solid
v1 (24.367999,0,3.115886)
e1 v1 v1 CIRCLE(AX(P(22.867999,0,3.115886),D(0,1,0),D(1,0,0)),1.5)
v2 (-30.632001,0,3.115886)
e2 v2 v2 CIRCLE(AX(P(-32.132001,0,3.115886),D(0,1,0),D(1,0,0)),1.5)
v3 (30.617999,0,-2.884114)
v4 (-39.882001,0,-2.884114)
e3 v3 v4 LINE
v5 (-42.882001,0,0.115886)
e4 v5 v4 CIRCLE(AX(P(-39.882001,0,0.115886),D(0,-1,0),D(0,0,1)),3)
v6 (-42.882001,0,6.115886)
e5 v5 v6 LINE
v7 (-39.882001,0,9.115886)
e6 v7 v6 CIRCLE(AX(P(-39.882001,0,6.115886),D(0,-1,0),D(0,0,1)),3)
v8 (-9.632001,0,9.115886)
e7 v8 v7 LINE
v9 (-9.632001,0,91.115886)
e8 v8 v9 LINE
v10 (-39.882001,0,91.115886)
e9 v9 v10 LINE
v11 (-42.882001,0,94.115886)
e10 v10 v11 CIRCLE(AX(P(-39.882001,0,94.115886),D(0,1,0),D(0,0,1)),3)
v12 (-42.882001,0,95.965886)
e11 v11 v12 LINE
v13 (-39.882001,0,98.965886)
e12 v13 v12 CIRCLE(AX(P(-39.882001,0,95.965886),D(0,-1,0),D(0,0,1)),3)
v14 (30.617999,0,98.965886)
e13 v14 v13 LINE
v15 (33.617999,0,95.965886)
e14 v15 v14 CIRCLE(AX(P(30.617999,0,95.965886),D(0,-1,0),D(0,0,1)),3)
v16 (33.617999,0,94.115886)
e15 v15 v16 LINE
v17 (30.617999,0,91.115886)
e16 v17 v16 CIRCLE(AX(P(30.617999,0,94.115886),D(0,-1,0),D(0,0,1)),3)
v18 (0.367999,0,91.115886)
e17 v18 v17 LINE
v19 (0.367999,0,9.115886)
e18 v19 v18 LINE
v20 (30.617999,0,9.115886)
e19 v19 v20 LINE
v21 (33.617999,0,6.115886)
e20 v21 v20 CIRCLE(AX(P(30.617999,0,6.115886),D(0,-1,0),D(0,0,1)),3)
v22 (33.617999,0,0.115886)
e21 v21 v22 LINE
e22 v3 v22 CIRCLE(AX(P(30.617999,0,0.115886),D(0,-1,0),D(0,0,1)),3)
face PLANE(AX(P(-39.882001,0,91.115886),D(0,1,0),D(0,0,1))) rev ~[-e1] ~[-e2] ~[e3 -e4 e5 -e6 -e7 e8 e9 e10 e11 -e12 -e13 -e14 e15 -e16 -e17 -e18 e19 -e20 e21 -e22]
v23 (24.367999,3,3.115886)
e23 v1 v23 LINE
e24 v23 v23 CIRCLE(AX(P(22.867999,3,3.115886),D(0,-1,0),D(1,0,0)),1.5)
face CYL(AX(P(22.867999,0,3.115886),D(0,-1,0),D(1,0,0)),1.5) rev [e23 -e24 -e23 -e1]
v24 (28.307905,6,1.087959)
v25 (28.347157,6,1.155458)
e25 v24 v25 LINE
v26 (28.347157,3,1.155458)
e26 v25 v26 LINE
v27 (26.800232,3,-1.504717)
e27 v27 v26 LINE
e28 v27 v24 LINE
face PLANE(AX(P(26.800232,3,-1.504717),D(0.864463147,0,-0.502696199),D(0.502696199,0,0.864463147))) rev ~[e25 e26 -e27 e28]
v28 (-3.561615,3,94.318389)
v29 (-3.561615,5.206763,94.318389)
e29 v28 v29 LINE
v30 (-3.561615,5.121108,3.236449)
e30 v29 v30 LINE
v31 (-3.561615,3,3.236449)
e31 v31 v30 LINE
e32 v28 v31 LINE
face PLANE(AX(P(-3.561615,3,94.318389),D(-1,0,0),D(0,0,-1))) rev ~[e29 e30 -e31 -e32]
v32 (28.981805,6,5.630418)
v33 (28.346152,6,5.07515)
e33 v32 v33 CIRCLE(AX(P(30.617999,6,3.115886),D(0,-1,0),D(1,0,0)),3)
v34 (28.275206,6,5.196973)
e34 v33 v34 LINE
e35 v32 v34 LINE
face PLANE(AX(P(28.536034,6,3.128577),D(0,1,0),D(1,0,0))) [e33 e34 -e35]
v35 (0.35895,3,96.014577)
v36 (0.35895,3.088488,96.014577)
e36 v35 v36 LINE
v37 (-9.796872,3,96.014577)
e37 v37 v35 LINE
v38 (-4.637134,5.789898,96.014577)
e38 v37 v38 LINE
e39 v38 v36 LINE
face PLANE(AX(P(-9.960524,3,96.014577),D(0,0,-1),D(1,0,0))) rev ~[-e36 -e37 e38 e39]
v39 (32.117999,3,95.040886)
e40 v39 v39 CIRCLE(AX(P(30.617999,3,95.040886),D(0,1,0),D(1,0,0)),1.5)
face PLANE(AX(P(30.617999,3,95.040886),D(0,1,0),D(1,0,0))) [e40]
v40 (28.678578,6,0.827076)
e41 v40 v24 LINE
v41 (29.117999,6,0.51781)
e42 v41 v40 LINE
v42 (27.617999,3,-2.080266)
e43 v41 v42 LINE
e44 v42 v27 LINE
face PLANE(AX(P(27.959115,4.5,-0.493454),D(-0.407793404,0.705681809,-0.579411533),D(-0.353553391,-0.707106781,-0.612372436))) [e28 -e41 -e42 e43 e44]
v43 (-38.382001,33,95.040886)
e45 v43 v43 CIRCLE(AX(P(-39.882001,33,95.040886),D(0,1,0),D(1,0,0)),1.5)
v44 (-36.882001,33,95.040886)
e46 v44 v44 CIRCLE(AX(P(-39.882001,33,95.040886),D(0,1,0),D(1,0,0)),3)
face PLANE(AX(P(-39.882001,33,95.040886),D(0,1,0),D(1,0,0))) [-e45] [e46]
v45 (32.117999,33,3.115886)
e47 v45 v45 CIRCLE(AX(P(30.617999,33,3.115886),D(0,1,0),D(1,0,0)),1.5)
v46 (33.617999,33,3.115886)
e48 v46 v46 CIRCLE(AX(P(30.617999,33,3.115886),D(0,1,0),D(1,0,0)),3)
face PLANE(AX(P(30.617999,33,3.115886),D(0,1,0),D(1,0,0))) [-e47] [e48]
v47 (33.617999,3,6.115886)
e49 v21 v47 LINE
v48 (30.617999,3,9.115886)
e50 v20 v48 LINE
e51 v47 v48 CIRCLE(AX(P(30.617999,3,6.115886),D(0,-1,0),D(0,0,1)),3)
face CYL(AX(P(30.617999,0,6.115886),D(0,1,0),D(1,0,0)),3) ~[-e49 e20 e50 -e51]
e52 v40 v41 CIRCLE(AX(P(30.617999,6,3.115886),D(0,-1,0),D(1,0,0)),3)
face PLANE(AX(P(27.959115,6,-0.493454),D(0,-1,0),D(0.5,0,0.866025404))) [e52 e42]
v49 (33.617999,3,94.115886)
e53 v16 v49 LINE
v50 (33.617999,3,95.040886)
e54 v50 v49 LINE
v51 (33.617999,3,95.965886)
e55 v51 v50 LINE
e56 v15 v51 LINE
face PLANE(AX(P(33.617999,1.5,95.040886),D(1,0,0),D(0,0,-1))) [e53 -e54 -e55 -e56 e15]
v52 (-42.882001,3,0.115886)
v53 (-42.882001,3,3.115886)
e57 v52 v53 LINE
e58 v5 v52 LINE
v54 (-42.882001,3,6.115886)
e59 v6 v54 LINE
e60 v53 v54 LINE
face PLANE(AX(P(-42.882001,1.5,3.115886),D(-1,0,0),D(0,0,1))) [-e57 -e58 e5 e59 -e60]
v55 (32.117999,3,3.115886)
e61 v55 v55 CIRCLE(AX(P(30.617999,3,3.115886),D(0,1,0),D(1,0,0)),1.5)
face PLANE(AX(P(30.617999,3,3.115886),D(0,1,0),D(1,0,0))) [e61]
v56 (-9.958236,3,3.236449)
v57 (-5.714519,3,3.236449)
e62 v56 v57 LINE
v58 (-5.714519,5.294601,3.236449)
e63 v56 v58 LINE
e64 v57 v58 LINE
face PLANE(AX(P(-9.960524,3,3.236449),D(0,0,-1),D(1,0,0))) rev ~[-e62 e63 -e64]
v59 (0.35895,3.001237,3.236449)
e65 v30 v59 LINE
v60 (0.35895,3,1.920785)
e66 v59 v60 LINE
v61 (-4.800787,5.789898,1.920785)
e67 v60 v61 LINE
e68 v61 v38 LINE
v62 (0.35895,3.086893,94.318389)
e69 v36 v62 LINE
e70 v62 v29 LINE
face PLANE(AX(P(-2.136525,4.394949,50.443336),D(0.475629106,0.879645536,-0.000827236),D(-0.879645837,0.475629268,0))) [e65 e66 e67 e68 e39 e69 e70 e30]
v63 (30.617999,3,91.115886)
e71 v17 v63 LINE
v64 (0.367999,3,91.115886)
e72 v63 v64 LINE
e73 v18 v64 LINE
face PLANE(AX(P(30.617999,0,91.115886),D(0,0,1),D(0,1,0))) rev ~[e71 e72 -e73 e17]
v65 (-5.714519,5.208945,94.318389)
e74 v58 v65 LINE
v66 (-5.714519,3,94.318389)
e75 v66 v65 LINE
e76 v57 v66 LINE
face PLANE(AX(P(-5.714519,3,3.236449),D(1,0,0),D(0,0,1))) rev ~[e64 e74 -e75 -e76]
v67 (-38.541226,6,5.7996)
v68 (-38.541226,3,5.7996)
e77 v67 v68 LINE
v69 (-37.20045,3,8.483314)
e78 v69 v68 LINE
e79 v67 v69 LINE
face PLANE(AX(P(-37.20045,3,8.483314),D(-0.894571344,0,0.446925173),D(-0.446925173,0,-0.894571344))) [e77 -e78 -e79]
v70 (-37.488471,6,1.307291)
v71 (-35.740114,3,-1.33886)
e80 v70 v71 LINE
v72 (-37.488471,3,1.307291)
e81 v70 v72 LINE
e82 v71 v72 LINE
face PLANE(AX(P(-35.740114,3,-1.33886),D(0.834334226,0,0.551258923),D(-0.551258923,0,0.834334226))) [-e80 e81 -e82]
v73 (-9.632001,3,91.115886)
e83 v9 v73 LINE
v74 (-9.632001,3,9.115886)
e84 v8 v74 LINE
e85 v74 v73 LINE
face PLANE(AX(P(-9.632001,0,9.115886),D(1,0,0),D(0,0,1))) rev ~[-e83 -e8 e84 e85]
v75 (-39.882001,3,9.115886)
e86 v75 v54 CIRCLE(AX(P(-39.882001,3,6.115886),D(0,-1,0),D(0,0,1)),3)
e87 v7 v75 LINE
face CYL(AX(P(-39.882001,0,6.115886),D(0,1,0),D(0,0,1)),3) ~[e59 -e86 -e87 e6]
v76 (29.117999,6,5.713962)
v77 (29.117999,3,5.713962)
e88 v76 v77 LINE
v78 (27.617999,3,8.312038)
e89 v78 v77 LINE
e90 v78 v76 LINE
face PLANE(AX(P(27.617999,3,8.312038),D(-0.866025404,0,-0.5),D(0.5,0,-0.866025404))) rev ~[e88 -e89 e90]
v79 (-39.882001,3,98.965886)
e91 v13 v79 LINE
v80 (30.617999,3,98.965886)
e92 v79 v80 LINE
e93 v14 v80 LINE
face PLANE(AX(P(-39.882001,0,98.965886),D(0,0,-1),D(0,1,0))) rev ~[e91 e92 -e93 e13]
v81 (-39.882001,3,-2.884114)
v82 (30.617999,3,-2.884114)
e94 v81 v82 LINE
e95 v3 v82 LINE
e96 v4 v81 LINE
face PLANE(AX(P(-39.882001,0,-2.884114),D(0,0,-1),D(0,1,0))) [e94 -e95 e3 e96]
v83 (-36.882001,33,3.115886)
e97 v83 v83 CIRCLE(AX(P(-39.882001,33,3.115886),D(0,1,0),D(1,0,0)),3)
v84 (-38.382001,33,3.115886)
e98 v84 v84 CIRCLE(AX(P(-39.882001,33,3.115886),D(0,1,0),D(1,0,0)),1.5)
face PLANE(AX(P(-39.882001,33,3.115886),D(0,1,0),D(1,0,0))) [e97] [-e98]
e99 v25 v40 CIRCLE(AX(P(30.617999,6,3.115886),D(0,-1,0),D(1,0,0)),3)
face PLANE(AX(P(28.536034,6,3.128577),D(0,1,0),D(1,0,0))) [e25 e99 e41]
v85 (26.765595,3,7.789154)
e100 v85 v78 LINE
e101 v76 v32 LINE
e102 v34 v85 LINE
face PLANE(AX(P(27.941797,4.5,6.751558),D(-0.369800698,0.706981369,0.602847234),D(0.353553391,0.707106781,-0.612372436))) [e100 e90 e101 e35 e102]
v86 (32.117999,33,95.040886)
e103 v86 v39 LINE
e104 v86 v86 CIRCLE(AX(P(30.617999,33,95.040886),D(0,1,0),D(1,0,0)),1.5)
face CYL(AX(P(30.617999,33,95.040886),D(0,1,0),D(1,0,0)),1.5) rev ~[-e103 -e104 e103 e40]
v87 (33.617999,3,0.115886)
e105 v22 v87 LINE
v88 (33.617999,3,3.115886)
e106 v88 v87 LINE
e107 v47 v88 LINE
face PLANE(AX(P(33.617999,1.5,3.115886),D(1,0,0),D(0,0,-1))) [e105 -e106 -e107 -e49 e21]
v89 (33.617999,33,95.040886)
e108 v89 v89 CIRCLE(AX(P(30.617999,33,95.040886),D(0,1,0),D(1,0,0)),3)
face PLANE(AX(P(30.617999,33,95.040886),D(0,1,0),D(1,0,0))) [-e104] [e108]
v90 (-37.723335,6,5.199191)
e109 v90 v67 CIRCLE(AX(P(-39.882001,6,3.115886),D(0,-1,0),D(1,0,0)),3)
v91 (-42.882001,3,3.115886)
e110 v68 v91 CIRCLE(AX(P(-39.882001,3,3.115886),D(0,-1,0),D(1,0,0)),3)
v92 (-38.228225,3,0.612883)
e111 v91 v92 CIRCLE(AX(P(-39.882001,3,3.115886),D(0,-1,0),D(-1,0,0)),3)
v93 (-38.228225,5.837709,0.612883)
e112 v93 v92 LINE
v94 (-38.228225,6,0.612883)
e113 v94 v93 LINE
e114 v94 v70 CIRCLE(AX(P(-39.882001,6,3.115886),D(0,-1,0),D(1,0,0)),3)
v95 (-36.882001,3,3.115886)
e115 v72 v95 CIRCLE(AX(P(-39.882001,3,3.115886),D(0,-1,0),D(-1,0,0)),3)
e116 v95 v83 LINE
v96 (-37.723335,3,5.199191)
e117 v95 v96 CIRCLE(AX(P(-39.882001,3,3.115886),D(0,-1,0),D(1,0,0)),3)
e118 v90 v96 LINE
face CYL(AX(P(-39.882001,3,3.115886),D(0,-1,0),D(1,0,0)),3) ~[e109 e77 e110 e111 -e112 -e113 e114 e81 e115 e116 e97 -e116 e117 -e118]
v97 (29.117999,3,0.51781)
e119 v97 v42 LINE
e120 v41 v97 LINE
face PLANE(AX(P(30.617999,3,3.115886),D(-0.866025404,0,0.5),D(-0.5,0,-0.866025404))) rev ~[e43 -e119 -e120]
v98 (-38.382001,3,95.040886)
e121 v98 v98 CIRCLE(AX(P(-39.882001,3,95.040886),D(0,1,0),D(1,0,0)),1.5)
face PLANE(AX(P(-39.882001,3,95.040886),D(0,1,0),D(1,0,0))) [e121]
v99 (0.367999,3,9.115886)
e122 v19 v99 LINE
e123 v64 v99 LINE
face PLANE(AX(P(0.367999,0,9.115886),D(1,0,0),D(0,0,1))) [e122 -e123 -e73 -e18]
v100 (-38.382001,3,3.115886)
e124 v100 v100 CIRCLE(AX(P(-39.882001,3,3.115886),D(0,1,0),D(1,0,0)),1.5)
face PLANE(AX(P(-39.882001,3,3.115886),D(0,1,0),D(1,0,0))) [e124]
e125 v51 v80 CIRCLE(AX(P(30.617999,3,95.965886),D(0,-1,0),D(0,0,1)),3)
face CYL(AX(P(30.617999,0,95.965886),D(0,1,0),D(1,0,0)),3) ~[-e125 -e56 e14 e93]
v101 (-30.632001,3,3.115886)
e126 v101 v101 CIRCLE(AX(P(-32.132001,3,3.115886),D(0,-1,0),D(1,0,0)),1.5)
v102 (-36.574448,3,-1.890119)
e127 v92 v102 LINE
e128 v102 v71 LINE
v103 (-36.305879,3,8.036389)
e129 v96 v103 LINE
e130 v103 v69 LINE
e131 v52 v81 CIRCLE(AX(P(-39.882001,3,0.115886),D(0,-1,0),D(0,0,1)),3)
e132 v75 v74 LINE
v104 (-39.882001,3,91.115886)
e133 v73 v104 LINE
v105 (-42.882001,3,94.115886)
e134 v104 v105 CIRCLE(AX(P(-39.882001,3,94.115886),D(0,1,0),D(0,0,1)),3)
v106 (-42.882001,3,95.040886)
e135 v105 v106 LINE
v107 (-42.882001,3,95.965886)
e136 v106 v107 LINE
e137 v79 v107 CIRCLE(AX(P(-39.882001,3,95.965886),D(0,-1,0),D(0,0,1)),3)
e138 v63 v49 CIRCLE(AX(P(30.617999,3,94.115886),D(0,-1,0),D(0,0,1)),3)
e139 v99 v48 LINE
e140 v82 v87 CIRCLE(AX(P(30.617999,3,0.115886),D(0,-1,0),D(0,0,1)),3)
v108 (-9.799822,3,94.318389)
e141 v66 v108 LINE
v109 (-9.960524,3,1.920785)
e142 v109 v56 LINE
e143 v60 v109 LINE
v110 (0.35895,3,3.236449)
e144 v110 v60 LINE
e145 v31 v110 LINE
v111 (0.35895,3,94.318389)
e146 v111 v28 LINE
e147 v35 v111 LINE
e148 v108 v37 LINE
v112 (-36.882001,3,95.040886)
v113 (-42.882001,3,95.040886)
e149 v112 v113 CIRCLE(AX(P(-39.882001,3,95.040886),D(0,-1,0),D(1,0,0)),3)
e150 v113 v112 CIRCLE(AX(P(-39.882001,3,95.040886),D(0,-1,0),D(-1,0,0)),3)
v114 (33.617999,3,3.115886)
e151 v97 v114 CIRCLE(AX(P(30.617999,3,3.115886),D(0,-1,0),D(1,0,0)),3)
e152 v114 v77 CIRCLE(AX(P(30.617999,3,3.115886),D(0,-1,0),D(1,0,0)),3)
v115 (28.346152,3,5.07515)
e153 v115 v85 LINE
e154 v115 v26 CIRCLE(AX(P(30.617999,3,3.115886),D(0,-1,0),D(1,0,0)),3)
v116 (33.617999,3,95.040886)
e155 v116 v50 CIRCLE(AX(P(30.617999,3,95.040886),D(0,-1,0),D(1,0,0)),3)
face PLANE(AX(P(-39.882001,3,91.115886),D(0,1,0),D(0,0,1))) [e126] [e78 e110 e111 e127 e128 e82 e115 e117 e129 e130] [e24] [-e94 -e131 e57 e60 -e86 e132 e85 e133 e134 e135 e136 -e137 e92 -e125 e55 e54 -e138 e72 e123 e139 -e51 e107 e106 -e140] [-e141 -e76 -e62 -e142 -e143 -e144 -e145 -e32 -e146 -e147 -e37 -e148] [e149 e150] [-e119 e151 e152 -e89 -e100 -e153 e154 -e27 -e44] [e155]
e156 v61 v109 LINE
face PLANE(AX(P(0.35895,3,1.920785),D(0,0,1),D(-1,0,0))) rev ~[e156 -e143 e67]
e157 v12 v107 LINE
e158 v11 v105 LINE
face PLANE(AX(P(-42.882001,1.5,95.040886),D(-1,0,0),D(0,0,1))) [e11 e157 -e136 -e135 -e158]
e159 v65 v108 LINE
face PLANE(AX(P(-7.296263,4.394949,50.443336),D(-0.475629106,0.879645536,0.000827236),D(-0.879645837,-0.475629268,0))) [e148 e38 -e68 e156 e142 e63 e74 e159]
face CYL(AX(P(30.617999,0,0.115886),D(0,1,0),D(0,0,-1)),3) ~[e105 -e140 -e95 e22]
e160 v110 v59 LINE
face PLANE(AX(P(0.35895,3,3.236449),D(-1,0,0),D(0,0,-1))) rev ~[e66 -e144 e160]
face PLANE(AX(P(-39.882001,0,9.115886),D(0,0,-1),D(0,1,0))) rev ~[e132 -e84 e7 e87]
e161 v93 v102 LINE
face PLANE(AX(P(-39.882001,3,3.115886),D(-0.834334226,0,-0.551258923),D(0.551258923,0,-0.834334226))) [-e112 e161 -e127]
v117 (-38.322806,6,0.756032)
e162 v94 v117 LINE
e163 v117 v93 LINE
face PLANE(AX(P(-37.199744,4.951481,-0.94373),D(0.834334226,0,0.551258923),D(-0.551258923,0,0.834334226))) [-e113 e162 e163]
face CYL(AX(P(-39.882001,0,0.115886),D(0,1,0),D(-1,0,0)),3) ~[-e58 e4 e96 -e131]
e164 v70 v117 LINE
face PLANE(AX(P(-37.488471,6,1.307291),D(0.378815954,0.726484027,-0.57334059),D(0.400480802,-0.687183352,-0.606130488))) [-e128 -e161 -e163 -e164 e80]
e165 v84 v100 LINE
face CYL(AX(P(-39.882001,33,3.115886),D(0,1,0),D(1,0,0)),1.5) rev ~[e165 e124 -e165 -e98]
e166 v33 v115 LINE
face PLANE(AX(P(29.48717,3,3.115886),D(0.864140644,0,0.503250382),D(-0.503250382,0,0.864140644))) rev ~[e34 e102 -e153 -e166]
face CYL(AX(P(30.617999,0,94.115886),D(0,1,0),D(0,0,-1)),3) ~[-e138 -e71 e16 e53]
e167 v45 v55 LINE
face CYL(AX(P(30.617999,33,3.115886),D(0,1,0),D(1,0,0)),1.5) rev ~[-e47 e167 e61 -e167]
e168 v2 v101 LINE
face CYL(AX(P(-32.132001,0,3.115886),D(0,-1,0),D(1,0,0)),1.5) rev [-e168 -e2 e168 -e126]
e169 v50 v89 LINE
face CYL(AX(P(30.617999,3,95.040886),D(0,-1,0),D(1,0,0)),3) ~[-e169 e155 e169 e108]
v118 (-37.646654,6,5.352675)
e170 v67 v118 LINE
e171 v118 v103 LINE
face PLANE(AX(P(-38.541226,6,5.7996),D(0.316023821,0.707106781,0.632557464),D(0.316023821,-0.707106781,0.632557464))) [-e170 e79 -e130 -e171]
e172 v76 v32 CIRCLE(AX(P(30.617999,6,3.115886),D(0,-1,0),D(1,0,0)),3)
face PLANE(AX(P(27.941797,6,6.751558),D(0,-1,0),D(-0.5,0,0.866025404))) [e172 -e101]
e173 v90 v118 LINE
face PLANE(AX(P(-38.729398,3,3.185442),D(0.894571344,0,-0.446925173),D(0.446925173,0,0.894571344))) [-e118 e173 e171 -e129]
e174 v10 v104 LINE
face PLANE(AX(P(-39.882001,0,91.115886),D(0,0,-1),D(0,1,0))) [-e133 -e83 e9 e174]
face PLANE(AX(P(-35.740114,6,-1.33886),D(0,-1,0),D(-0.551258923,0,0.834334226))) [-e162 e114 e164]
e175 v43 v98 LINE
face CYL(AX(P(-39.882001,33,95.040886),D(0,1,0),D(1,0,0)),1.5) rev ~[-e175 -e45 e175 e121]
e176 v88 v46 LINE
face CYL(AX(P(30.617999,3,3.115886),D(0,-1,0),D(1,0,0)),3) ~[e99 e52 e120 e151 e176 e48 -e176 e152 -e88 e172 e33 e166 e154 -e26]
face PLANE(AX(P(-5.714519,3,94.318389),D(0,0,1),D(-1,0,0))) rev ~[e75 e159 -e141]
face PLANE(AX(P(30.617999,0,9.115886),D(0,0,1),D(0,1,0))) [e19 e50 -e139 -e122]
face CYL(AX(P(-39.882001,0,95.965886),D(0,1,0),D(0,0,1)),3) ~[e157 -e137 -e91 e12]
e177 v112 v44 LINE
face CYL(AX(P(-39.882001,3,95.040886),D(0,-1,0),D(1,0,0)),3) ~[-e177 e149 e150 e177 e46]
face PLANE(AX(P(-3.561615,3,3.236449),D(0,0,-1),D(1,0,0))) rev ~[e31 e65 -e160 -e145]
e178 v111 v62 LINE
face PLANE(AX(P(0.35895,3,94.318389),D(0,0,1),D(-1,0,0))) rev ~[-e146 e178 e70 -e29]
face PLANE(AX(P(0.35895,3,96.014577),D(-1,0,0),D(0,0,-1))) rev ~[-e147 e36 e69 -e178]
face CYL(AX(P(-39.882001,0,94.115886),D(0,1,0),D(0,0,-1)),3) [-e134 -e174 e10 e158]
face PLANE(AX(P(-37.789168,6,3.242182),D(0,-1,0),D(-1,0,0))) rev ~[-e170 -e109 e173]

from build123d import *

# Parameters (mm, degrees)
SKETCH_1_W          = 70.5
SKETCH_1_H          = 12
SKETCH_1_R          = 1.5
EXTRUDE_2_DEPTH     = 4
SKETCH_3_W          = 10
SKETCH_3_H          = 82
EXTRUDE_3_DEPTH     = 3
EXTRUDE_4_DEPTH     = 3
SKETCH_5_W          = 70.5
SKETCH_5_H          = 12.216564443
CUT_EXTRUDE_1_DEPTH = 1
SKETCH_6_R          = 3
EXTRUDE_5_DEPTH     = 30
SKETCH_7_W          = 12
SKETCH_7_H          = 3
EXTRUDE_6_DEPTH     = 3
SKETCH_8_W          = 12
SKETCH_8_H          = 3
EXTRUDE_7_DEPTH     = 3
SKETCH_10_W         = 7.85
SKETCH_10_H         = 3
EXTRUDE_8_DEPTH     = 3
SKETCH_11_W         = 7.85
SKETCH_11_H         = 3
EXTRUDE_9_DEPTH     = 3
FILLET_1_R          = 3
EXTRUDE_10_DEPTH    = 3
SKETCH_26_R         = 1.5
CUT_EXTRUDE_2_DEPTH = 30
SKETCH_28_R         = 1.5
CUT_EXTRUDE_3_DEPTH = 30
SKETCH_30_R         = 1.5
CUT_EXTRUDE_4_DEPTH = 30
SKETCH_29_R         = 1.5
CUT_EXTRUDE_5_DEPTH = 30


with BuildPart() as part:
    # 草图1 → 凸台-拉伸2 (new body)
    with BuildSketch(Plane(origin=(0, 0, 0), x_dir=(1, 0, 0), z_dir=(0, 1, 0))):
        with Locations((-4.632001312, -3.115886014)):
            Rectangle(SKETCH_1_W, SKETCH_1_H)
        with Locations((-32.132001312, -3.115886014)):
            Circle(SKETCH_1_R, mode=Mode.SUBTRACT)
        with Locations((22.867998688, -3.115886014)):
            Circle(SKETCH_1_R, mode=Mode.SUBTRACT)
    extrude(amount=EXTRUDE_2_DEPTH)

    # 草图3 → 凸台-拉伸3 (add)
    with BuildSketch(Plane.XZ):
        with Locations((-4.632001312, 50.115886014)):
            Rectangle(SKETCH_3_W, SKETCH_3_H)
    extrude(amount=-EXTRUDE_3_DEPTH)

    # 草图4 → 凸台-拉伸4 (add)
    with BuildSketch(Plane(origin=(0, 3, 0), x_dir=(1, 0, 0), z_dir=(0, 1, 0))):
        Polygon((-4.632001312, -91.115886014), (-39.882001312, -91.115886014), (-39.882001312, -98.965886014), (30.617998688, -98.965886014), (30.617998688, -91.115886014), align=None)
    extrude(amount=-EXTRUDE_4_DEPTH)

    # 草图5 → 切除-拉伸1 (cut)
    with BuildSketch(Plane(origin=(0, 4, 0), x_dir=(1, 0, 0), z_dir=(0, 1, 0))):
        with Locations((-4.632001312, -3.224168236)):
            Rectangle(SKETCH_5_W, SKETCH_5_H)
    extrude(amount=-CUT_EXTRUDE_1_DEPTH, mode=Mode.SUBTRACT)

    # 草图6 → 凸台-拉伸5 (add)
    with BuildSketch(Plane(origin=(0, 3, 0), x_dir=(1, 0, 0), z_dir=(0, 1, 0))):
        with Locations((30.617998688, -3.115886014)):
            Circle(SKETCH_6_R)
        with Locations((-39.882001312, -3.115886014)):
            Circle(SKETCH_6_R)
        with Locations((30.617998688, -95.040886014)):
            Circle(SKETCH_6_R)
        with Locations((-39.882001312, -95.040886014)):
            Circle(SKETCH_6_R)
    extrude(amount=EXTRUDE_5_DEPTH)

    # 草图7 → 凸台-拉伸6 (add)
    with BuildSketch(Plane(origin=(30.617998688, 0, 0), x_dir=(0, 0, -1), z_dir=(1, 0, 0))):
        with Locations((-3.115886014, 1.5)):
            Rectangle(SKETCH_7_W, SKETCH_7_H)
    extrude(amount=EXTRUDE_6_DEPTH)

    # 草图8 → 凸台-拉伸7 (add)
    with BuildSketch(Plane.ZY.offset(39.882001312)):
        with Locations((3.115886014, 1.5)):
            Rectangle(SKETCH_8_W, SKETCH_8_H)
    extrude(amount=EXTRUDE_7_DEPTH)

    # 草图10 → 凸台-拉伸8 (add)
    with BuildSketch(Plane(origin=(30.617998688, 0, 0), x_dir=(0, 0, -1), z_dir=(1, 0, 0))):
        with Locations((-95.040886014, 1.5)):
            Rectangle(SKETCH_10_W, SKETCH_10_H)
    extrude(amount=EXTRUDE_8_DEPTH)

    # 草图11 → 凸台-拉伸9 (add)
    with BuildSketch(Plane.ZY.offset(39.882001312)):
        with Locations((95.040886014, 1.5)):
            Rectangle(SKETCH_11_W, SKETCH_11_H)
    extrude(amount=EXTRUDE_9_DEPTH)

    # 圆角1
    fillet_1_edges = [part.edges().sort_by_distance(p)[0] for p in [
        (-42.882001312, 1.5, 9.115886014),
        (-42.882001312, 1.5, -2.884113986),
        (33.617998688, 1.5, -2.884113986),
        (33.617998688, 1.5, 9.115886014),
        (33.617998688, 1.5, 91.115886014),
        (33.617998688, 1.5, 98.965886014),
        (-42.882001312, 1.5, 91.115886014),
        (-42.882001312, 1.5, 98.965886014),
    ]]
    fillet(fillet_1_edges, radius=FILLET_1_R)

    # 草图12 → 凸台-拉伸10 (add)
    with BuildSketch(Plane(origin=(0, 3, 0), x_dir=(1, 0, 0), z_dir=(0, 1, 0))):
        Polygon((-39.882001312, -3.115886014), (-36.574447776, 1.890119339), (-35.74011355, 1.338860417), (-38.729397599, -3.185441847), (-36.305878929, -8.036388905), (-37.200450273, -8.483314078), align=None)
        Polygon((30.617998688, -3.115886014), (27.617998688, 2.080266408), (26.800231701, 1.50471697), (29.487170484, -3.115886014), (26.765595108, -7.789153997), (27.617998688, -8.312038437), align=None)
        Polygon((-9.960523859, -3.236448921), (-5.714518795, -3.236448921), (-5.714518795, -94.31838866), (-9.960523859, -94.31838866), (-9.960523859, -96.014577306), (0.358950446, -96.014577306), (0.358950446, -94.31838866), (-3.561614819, -94.31838866), (-3.561614819, -3.236448921), (0.358950446, -3.236448921), (0.358950446, -1.92078538), (0, -1.92078538), (-9.960523859, -1.92078538), align=None)
    extrude(amount=EXTRUDE_10_DEPTH)

    # 切除-扫描1: sweep along a path in 草图14
    with BuildLine(Plane(origin=(-10.245146765, 0, 15.506101105), x_dir=(-0.834334226, 0, -0.551258923), z_dir=(0.551258923, 0, -0.834334226))) as sweep_1_path:
        Line((30.557258713, 3), (31.557258713, 3))
    # 草图13 → 切除-扫描1 (sweep, cut)
    with BuildSketch(Plane(origin=(-25.494966785, 0, -16.844961522), x_dir=(0.551258923, 0, -0.834334226), z_dir=(0.834334226, 0, 0.551258923))):
        Polygon((-21.756572303, 6), (-18.584999427, 3), (-18.584999427, 6), align=None)
    sweep(path=sweep_1_path.line, mode=Mode.SUBTRACT)

    # 切除-扫描2: sweep along a path in 草图16
    with BuildLine(Plane(origin=(-4.038812737, 0, -8.084141049), x_dir=(0.894571344, 0, -0.446925173), z_dir=(0.446925173, 0, 0.894571344))) as sweep_2_path:
        Line((-37.069863413, 3), (-36.069863413, 3))
    # 草图15 → 切除-扫描2 (sweep, cut)
    with BuildSketch(Plane(origin=(-33.161637535, 0, 16.567455127), x_dir=(0.446925173, 0, 0.894571344), z_dir=(-0.894571344, 0, 0.446925173))):
        Polygon((-12.036888006, 6), (-9.036888006, 3), (-9.036888006, 6), align=None)
    sweep(path=sweep_2_path.line, mode=Mode.SUBTRACT)

    # 切除-扫描3: sweep along a path in 草图18
    with BuildLine(Plane(origin=(8.169550431, 0, 11.607671187), x_dir=(-0.817766986, 0, 0.575549439), z_dir=(-0.575549439, 0, -0.817766986))) as sweep_3_path:
        Line((-23.782383716, 3), (-22.782383716, 3))
    # 草图17 → 切除-扫描3 (sweep, cut)
    with BuildSketch(Plane(origin=(21.614280794, 0, -12.479010835), x_dir=(-0.5, 0, -0.866025404), z_dir=(0.866025404, 0, -0.5))):
        Polygon((-15.007435787, 6), (-12.007435787, 3), (-12.007435787, 6), align=None)
    sweep(path=sweep_3_path.line, mode=Mode.SUBTRACT)

    # 切除-扫描4: sweep along a path in 草图20
    with BuildLine(Plane(origin=(3.846238842, 0, -6.270119175), x_dir=(0.852403579, 0, 0.52288444), z_dir=(-0.52288444, 0, 0.852403579))) as sweep_4_path:
        Line((27.887916501, 3), (26.887916501, 3))
    # 草图19 → 切除-扫描4 (sweep, cut)
    with BuildSketch(Plane(origin=(24.312717238, 0, 14.036953842), x_dir=(0.5, 0, -0.866025404), z_dir=(0.866025404, 0, 0.5))):
        Polygon((9.6105629, 6), (6.6105629, 3), (6.6105629, 6), align=None)
    sweep(path=sweep_4_path.line, mode=Mode.SUBTRACT)

    # 切除-扫描8: sweep along a path in 草图25
    with BuildLine(Plane(origin=(0, 3, 0), x_dir=(1, 0, 0), z_dir=(0, 1, 0))) as sweep_8_path:
        Line((-4.800786706, -1.92078538), (-4.632001312, -98.965886014))
    # 草图24 → 切除-扫描8 (sweep, cut)
    with BuildSketch(Plane(origin=(0, 0, 1.92078538), x_dir=(-1, 0, 0), z_dir=(0, 0, -1))):
        Polygon((-0.358950446, 3), (4.800786706, 5.789897824), (9.960523859, 3), (10.109613681, 3), (10.681927492, 3), (10.681927492, 6), (10.109613681, 6), (-0.358950446, 6), align=None)
    sweep(path=sweep_8_path.line, mode=Mode.SUBTRACT)

    # 草图26 → 切除-拉伸2 (cut)
    with BuildSketch(Plane(origin=(0, 33, 0), x_dir=(1, 0, 0), z_dir=(0, 1, 0))):
        with Locations((-39.882001312, -95.040886014)):
            Circle(SKETCH_26_R)
    extrude(amount=-CUT_EXTRUDE_2_DEPTH, mode=Mode.SUBTRACT)

    # 草图28 → 切除-拉伸3 (cut)
    with BuildSketch(Plane(origin=(0, 33, 0), x_dir=(1, 0, 0), z_dir=(0, 1, 0))):
        with Locations((30.617998688, -95.040886014)):
            Circle(SKETCH_28_R)
    extrude(amount=-CUT_EXTRUDE_3_DEPTH, mode=Mode.SUBTRACT)

    # 草图30 → 切除-拉伸4 (cut)
    with BuildSketch(Plane(origin=(0, 33, 0), x_dir=(1, 0, 0), z_dir=(0, 1, 0))):
        with Locations((30.617998688, -3.115886014)):
            Circle(SKETCH_30_R)
    extrude(amount=-CUT_EXTRUDE_4_DEPTH, mode=Mode.SUBTRACT)

    # 草图29 → 切除-拉伸5 (cut)
    with BuildSketch(Plane(origin=(0, 33, 0), x_dir=(1, 0, 0), z_dir=(0, 1, 0))):
        with Locations((-39.882001312, -3.115886014)):
            Circle(SKETCH_29_R)
    extrude(amount=-CUT_EXTRUDE_5_DEPTH, mode=Mode.SUBTRACT)


solid = part.part
